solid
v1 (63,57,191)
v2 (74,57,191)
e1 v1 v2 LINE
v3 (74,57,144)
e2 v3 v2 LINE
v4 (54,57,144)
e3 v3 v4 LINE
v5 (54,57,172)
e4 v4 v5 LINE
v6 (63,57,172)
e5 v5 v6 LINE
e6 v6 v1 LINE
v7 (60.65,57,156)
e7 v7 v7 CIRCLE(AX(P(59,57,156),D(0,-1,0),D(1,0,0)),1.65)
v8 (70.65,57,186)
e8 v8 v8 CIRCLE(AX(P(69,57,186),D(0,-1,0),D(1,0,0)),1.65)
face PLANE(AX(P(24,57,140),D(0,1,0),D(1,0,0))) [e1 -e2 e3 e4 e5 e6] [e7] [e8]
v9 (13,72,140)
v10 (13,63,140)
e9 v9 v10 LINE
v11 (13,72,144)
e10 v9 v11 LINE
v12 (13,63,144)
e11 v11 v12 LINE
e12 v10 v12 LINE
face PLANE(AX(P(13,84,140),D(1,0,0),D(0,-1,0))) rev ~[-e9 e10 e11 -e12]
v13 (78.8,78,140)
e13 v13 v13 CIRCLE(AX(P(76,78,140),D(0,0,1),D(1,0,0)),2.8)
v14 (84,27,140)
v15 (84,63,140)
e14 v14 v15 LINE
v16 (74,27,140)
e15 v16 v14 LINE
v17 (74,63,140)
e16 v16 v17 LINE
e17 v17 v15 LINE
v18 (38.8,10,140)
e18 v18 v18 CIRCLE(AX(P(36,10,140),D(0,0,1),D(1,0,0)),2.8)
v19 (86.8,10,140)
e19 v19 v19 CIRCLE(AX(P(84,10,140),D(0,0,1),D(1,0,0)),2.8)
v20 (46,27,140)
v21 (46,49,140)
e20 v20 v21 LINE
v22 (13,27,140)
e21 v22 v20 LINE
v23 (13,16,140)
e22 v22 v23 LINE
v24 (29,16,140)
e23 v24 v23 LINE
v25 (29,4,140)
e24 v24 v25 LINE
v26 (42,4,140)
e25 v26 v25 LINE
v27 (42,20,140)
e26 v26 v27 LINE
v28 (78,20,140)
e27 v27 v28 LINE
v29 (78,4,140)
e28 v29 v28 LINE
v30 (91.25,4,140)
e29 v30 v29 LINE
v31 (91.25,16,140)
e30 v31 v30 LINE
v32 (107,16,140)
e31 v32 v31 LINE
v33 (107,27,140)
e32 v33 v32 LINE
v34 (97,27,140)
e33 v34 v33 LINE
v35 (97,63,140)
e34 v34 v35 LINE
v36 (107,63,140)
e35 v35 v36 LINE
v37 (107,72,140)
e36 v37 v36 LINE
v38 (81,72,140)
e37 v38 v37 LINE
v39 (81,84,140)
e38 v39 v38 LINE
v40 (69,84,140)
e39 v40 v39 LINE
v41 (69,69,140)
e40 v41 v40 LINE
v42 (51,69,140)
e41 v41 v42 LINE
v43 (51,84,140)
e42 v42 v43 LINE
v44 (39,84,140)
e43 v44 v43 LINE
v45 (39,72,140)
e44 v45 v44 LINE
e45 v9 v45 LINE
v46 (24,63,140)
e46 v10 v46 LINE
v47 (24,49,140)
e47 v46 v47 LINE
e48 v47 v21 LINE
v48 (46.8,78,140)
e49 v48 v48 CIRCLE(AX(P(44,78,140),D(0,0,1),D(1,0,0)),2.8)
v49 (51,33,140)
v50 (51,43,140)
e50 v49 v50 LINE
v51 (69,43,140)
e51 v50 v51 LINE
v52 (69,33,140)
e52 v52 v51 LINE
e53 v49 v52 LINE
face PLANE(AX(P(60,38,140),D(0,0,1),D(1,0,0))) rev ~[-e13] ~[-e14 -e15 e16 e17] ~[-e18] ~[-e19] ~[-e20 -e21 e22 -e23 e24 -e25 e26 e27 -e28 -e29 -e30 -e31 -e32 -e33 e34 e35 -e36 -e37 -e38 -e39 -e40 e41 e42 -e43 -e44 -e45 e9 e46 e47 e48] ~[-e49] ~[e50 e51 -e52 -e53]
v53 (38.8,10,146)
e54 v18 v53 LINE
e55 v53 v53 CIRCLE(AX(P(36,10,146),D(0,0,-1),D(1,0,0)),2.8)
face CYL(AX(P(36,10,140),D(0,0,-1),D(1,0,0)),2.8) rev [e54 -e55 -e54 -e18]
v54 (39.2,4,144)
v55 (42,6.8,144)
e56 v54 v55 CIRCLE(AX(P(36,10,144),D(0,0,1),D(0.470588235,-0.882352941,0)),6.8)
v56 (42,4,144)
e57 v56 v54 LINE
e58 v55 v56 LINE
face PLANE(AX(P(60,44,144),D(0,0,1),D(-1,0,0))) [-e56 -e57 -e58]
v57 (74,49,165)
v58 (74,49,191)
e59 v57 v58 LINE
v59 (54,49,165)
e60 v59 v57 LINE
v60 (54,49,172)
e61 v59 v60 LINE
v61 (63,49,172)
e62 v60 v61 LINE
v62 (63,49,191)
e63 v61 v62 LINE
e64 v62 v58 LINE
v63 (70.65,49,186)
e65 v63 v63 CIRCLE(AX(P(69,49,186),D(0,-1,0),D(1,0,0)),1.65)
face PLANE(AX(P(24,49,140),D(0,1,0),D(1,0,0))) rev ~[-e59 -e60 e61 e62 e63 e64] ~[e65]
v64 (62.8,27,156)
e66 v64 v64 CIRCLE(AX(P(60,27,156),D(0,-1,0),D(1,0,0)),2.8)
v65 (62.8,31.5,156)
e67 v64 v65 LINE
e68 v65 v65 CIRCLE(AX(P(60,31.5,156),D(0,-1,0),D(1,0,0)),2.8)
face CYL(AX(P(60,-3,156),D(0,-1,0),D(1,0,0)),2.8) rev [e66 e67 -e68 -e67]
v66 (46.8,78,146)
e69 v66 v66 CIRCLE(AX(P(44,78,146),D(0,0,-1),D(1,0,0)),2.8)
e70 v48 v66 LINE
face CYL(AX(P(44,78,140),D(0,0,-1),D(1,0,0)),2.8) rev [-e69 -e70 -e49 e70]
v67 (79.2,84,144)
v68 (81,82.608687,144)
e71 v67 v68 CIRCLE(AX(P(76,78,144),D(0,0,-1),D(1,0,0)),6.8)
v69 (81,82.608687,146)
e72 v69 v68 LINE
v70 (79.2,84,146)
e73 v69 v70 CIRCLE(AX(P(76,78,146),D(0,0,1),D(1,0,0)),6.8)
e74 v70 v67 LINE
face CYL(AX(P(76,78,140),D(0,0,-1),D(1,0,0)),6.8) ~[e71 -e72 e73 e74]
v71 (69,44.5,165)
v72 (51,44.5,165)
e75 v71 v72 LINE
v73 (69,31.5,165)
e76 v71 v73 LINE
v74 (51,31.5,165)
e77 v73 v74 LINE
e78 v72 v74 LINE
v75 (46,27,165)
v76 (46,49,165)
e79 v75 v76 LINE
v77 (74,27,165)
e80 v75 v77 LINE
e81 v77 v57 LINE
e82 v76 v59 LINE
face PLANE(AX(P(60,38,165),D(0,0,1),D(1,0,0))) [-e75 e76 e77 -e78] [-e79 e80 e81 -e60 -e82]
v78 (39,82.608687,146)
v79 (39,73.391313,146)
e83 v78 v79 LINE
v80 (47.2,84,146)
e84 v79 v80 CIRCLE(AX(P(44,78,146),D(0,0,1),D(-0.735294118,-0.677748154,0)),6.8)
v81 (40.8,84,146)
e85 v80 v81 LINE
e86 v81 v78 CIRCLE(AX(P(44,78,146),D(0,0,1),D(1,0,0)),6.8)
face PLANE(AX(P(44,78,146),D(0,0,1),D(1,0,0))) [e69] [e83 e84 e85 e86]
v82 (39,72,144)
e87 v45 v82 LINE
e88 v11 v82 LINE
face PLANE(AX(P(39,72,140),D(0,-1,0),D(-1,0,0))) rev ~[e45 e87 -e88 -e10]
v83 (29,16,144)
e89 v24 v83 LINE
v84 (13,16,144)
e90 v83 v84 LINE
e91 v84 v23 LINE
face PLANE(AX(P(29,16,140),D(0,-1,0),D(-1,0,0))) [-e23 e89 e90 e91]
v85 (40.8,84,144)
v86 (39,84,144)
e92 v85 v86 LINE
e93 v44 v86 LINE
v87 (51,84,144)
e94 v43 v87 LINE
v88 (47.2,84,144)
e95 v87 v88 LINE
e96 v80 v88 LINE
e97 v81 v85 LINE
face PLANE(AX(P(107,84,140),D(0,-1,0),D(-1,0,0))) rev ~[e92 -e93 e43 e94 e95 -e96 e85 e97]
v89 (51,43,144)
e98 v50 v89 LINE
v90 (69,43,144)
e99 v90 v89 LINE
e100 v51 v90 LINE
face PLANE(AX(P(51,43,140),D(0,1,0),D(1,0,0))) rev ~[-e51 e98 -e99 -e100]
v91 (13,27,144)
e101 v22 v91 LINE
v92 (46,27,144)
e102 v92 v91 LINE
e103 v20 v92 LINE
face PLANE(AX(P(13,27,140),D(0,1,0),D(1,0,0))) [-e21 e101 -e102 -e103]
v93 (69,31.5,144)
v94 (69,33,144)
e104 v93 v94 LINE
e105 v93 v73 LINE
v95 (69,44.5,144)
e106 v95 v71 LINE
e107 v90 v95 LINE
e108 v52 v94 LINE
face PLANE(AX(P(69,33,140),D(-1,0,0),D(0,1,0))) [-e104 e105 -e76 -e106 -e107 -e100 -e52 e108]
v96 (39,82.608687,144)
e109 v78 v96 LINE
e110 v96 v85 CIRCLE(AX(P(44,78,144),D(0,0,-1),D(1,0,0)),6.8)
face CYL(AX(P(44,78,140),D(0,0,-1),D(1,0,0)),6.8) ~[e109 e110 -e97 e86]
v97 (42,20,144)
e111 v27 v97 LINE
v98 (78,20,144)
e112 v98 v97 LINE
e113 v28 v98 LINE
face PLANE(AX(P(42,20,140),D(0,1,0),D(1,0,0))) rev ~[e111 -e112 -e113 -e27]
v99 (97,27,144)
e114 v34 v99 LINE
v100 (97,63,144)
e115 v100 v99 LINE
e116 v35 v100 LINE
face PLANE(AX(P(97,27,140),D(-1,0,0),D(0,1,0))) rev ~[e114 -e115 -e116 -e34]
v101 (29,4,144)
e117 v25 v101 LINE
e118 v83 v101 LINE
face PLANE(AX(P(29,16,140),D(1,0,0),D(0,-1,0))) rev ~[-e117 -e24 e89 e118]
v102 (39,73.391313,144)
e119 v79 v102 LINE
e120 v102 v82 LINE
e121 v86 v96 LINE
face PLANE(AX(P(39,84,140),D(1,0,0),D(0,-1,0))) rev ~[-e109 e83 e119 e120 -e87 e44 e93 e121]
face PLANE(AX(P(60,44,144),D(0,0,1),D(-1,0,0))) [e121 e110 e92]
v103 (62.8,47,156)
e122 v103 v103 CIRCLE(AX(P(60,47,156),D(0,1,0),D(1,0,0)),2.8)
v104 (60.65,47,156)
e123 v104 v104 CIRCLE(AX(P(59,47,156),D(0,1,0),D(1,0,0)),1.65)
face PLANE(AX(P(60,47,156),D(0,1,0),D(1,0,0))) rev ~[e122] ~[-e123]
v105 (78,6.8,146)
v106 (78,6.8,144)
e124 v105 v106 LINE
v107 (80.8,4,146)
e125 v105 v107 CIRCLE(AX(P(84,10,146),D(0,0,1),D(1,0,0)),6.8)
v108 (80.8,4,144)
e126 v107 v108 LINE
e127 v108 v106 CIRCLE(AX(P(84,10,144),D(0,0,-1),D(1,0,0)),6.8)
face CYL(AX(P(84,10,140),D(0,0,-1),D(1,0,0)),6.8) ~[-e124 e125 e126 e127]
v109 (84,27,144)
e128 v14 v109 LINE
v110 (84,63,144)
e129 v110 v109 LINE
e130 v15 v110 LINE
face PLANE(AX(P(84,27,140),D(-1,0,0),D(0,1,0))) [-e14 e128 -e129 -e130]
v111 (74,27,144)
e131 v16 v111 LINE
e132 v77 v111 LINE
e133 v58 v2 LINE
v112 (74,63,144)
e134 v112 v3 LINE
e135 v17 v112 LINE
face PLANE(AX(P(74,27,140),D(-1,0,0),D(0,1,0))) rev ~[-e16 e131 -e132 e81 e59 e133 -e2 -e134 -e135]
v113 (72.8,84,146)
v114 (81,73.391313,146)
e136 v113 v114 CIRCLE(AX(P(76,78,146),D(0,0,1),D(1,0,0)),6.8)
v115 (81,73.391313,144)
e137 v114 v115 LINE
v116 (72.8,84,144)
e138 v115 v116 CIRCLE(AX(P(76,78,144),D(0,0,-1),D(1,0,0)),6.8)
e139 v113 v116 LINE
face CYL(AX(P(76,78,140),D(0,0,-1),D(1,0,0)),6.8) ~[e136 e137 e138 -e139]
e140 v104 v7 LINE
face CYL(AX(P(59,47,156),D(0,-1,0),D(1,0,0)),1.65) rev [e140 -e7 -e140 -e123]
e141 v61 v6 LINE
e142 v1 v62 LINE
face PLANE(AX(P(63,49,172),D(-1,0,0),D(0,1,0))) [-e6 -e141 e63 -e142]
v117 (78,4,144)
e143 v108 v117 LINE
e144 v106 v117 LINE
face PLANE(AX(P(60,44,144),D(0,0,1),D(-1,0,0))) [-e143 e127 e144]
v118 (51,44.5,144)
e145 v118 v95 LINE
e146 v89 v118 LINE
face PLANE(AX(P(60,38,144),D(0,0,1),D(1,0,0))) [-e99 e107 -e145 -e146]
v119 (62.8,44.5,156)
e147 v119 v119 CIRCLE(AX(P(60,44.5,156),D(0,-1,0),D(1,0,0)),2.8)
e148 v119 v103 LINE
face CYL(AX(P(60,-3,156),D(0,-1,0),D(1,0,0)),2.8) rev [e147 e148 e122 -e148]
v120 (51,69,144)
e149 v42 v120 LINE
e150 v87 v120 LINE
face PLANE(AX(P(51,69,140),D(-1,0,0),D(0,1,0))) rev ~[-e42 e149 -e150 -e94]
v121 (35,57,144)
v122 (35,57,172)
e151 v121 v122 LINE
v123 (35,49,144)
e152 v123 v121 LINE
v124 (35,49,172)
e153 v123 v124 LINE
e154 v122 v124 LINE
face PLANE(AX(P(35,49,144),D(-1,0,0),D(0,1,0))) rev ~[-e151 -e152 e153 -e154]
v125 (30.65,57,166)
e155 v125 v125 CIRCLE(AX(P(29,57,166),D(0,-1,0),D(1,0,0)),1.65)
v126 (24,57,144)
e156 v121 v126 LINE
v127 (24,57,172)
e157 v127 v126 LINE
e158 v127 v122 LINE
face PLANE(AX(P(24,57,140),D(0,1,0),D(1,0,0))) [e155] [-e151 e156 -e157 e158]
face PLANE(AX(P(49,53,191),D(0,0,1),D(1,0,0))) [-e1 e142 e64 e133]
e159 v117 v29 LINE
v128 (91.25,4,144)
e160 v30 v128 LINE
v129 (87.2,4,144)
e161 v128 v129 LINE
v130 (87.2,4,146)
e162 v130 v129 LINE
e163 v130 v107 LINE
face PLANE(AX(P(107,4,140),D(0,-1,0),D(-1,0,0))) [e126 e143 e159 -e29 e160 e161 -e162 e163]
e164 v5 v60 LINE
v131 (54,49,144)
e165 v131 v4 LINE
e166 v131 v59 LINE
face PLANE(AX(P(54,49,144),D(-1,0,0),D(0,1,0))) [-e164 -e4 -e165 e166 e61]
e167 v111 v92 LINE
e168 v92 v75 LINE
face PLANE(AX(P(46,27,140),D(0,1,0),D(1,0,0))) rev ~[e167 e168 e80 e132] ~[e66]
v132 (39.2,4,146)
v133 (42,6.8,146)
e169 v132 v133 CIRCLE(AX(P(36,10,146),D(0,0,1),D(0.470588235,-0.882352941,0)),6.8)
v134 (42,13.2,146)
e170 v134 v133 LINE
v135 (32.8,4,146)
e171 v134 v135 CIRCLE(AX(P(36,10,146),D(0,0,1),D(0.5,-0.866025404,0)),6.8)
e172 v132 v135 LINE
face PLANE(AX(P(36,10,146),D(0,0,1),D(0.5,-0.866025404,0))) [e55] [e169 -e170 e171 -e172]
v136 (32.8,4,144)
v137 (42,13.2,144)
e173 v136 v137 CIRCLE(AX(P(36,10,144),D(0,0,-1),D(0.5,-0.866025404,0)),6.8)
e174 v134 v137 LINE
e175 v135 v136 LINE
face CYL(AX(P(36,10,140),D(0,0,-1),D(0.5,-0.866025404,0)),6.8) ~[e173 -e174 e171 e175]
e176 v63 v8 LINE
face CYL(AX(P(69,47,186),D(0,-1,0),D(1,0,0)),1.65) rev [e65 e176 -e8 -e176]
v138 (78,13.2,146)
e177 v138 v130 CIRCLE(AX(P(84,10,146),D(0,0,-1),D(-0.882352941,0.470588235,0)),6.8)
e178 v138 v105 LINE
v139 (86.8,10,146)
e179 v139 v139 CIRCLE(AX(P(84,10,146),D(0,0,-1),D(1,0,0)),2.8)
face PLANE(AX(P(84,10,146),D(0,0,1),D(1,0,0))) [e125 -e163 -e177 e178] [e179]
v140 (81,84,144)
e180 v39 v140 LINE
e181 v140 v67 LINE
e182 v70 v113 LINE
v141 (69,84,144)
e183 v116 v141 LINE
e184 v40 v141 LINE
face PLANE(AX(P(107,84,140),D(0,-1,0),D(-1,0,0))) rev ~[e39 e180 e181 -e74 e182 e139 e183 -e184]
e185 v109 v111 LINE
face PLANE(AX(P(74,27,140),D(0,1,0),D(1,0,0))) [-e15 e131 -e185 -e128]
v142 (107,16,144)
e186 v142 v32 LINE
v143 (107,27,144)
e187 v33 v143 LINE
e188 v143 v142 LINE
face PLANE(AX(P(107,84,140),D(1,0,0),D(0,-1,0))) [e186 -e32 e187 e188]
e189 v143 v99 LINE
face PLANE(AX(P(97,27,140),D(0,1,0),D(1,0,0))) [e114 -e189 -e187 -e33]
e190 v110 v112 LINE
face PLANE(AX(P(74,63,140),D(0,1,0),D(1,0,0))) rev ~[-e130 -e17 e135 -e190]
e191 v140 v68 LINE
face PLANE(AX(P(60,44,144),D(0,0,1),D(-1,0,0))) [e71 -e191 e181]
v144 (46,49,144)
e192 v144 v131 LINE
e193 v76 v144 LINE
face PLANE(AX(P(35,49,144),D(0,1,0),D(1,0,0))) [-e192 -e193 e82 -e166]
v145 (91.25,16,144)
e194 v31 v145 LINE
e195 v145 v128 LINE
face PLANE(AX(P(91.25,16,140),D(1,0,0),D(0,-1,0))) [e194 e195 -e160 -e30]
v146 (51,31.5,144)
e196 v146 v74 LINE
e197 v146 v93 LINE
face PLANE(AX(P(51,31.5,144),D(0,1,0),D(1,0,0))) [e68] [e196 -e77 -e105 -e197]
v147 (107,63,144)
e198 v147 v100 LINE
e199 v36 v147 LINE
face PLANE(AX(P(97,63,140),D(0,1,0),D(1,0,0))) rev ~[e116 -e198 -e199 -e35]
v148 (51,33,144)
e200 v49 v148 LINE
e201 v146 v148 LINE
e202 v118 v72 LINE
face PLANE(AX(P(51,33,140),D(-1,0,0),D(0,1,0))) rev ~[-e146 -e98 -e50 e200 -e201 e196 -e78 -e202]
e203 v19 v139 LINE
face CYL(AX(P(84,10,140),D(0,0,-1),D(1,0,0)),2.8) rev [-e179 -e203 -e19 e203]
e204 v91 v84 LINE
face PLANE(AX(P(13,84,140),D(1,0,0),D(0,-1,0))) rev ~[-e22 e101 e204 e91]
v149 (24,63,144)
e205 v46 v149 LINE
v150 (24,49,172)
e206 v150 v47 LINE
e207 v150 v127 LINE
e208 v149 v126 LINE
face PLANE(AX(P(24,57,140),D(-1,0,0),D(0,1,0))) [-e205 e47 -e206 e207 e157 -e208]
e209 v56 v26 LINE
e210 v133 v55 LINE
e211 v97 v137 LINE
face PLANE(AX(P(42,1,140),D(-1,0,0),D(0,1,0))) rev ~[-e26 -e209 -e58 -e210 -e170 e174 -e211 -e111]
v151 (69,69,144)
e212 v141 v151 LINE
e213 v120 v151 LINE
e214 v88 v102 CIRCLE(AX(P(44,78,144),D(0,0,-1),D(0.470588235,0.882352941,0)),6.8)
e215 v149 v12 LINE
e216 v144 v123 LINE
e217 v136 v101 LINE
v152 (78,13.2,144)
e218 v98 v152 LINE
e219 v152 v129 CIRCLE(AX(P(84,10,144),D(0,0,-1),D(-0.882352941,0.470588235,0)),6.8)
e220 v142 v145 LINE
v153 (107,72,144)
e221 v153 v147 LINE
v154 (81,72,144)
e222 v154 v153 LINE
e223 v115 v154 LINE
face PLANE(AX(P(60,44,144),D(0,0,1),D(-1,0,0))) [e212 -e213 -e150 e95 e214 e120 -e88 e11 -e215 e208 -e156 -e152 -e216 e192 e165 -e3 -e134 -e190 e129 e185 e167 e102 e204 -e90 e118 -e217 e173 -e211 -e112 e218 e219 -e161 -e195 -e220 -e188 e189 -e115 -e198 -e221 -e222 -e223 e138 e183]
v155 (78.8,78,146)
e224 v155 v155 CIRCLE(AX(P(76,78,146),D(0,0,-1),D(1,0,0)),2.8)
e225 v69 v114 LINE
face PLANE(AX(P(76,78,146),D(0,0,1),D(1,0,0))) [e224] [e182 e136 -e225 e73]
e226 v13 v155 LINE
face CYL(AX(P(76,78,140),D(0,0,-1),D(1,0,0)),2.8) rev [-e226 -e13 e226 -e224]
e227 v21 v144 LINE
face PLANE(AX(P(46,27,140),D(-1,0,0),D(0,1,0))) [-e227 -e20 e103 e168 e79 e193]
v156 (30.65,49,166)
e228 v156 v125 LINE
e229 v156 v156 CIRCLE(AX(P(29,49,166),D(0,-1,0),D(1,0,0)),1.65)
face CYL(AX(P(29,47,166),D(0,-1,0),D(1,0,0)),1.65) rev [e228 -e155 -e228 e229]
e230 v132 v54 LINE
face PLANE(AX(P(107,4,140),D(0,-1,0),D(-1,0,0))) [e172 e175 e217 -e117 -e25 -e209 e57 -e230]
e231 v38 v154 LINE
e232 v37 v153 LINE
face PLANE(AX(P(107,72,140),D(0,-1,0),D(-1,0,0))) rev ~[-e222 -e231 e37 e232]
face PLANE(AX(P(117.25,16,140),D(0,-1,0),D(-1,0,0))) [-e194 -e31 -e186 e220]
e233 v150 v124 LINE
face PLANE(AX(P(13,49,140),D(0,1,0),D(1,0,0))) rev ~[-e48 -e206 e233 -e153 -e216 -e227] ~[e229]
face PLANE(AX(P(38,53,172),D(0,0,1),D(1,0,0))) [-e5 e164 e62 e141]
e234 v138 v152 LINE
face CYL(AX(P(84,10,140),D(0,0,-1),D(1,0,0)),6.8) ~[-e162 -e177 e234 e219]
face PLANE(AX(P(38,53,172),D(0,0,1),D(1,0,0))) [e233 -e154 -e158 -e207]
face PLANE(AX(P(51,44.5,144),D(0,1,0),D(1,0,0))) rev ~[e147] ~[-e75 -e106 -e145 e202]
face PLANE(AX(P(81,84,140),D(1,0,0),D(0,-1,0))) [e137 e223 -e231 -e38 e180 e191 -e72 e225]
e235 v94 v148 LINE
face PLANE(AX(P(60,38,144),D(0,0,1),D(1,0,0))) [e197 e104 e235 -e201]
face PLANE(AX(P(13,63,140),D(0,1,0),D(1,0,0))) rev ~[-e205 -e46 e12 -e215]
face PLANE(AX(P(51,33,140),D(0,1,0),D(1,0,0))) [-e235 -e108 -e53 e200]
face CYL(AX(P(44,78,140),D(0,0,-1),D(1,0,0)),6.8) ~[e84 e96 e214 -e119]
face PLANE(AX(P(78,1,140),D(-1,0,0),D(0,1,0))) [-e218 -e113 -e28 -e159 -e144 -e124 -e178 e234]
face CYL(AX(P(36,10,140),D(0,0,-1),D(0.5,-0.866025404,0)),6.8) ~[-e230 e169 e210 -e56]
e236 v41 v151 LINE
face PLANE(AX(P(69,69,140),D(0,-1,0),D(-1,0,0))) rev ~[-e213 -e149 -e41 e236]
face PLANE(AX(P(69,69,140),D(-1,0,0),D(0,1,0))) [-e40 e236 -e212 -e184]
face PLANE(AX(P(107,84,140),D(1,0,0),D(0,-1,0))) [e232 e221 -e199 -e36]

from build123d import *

# Parameters (mm, degrees)
BOX096_W                    = 10
BOX096_H                    = 36
BOX096_DEPTH                = 10
BOX094_W                    = 94
BOX094_H                    = 8
BOX094_DEPTH                = 10
BOX095_W                    = 94
BOX095_H                    = 8
BOX095_DEPTH                = 10
BOX092_W                    = 94
BOX092_H                    = 8
BOX092_DEPTH                = 10
BOX093_W                    = 94
BOX093_H                    = 8
BOX093_DEPTH                = 10
CYLINDER112_R               = 2.8
CYLINDER112_DEPTH           = 10
CYLINDER113_R               = 2.8
CYLINDER113_DEPTH           = 10
CYLINDER114_R               = 2.8
CYLINDER114_DEPTH           = 10
CYLINDER111_R               = 2.8
CYLINDER111_DEPTH           = 10
BOX089_W                    = 11
BOX089_H                    = 6
BOX089_DEPTH                = 10
BOX088_W                    = 19
BOX088_H                    = 8
BOX088_DEPTH                = 51
CYLINDER109_R               = 1.65
CYLINDER109_DEPTH           = 50
CYLINDER110_R               = 1.65
CYLINDER110_DEPTH           = 50
CYLINDER108_R               = 1.65
CYLINDER108_DEPTH           = 50
BOX085_W                    = 15
BOX085_H                    = 18
BOX085_DEPTH                = 10
BOX080_W                    = 33
BOX080_H                    = 22
BOX080_DEPTH                = 10
BOX083_W                    = 18
BOX083_H                    = 13
BOX083_DEPTH                = 25
BOX082_W                    = 36
BOX082_H                    = 19
BOX082_DEPTH                = 10
BOX081_W                    = 10
BOX081_H                    = 36
BOX081_DEPTH                = 10
BOX073_W                    = 18
BOX073_H                    = 10
BOX073_DEPTH                = 25
CYLINDER_R                  = 2.8
CYLINDER_DEPTH              = 50
BOX087_W                    = 50
BOX087_H                    = 8
BOX087_DEPTH                = 51
BOX091_W                    = 11
BOX091_H                    = 8
BOX091_DEPTH                = 10
BOX084_W                    = 50
BOX084_H                    = 8
BOX084_DEPTH                = 51
BOX086_W                    = 28
BOX086_H                    = 22
BOX086_DEPTH                = 25
CYLINDER107_R               = 1
CYLINDER107_DEPTH           = 10
CYLINDER103_R               = 2.25
CYLINDER103_DEPTH           = 10
CYLINDER104_R               = 2.25
CYLINDER104_DEPTH           = 10
CYLINDER106_R               = 2
CYLINDER106_DEPTH           = 10
CYLINDER105_R               = 2.25
CYLINDER105_DEPTH           = 10
BOX063_W                    = 26
BOX063_H                    = 12
BOX063_DEPTH                = 4
BOX061_W                    = 26
BOX061_H                    = 12
BOX061_DEPTH                = 4
BOX062_W                    = 26
BOX062_H                    = 12
BOX062_DEPTH                = 4
BOX064_W                    = 26
BOX064_H                    = 12
BOX064_DEPTH                = 4
BOX060_W                    = 94
BOX060_H                    = 80
BOX060_DEPTH                = 4
CUT020_PLACEMENT_ANGLE      = 180
CYLINDER116_R               = 6.8
CYLINDER116_DEPTH           = 6
CYLINDER117_R               = 6.8
CYLINDER117_DEPTH           = 6
CYLINDER118_R               = 6.8
CYLINDER118_DEPTH           = 6
CYLINDER115_R               = 6.8
CYLINDER115_DEPTH           = 6
CYLINDER115_PLACEMENT_ANGLE = 60


with BuildPart() as cube053:
    # Box096 → Box096 (new body)
    with BuildSketch(Plane(origin=(97, 27, 140), x_dir=(1, 0, 0), z_dir=(0, 0, 1))):
        with Locations((5, 18)):
            Rectangle(BOX096_W, BOX096_H)
    extrude(amount=BOX096_DEPTH)


with BuildPart() as cube051:
    # Box094 → Box094 (new body)
    with BuildSketch(Plane(origin=(89, 72, 140), x_dir=(0, 1, 0), z_dir=(0, 0, 1))):
        with Locations((47, 4)):
            Rectangle(BOX094_W, BOX094_H)
    extrude(amount=BOX094_DEPTH)


with BuildPart() as cube052:
    # Box095 → Box095 (new body)
    with BuildSketch(Plane(origin=(39, 72, 140), x_dir=(0, 1, 0), z_dir=(0, 0, 1))):
        with Locations((47, 4)):
            Rectangle(BOX095_W, BOX095_H)
    extrude(amount=BOX095_DEPTH)


with BuildPart() as cube049:
    # Box092 → Box092 (new body)
    with BuildSketch(Plane(origin=(13, -4, 140), x_dir=(1, 0, 0), z_dir=(0, 0, 1))):
        with Locations((47, 4)):
            Rectangle(BOX092_W, BOX092_H)
    extrude(amount=BOX092_DEPTH)


with BuildPart() as fusion130:
    # Box093 → Box093 (new body)
    with BuildSketch(Plane(origin=(13, 84, 140), x_dir=(1, 0, 0), z_dir=(0, 0, 1))):
        with Locations((47, 4)):
            Rectangle(BOX093_W, BOX093_H)
    extrude(amount=BOX093_DEPTH)

    # Fusion130: union Cube051, Cube052, Cube049
    add(cube051.part)
    add(cube052.part)
    add(cube049.part)


with BuildPart() as m4heatsetcut001:
    # Cylinder112 → Cylinder112 (new body)
    with BuildSketch(Plane(origin=(84, 10, 140), x_dir=(1, 0, 0), z_dir=(0, 0, 1))):
        Circle(CYLINDER112_R)
    extrude(amount=CYLINDER112_DEPTH)


with BuildPart() as m4heatsetcut002:
    # Cylinder113 → Cylinder113 (new body)
    with BuildSketch(Plane(origin=(76, 78, 140), x_dir=(1, 0, 0), z_dir=(0, 0, 1))):
        Circle(CYLINDER113_R)
    extrude(amount=CYLINDER113_DEPTH)


with BuildPart() as m4heatsetcut003:
    # Cylinder114 → Cylinder114 (new body)
    with BuildSketch(Plane(origin=(44, 78, 140), x_dir=(1, 0, 0), z_dir=(0, 0, 1))):
        Circle(CYLINDER114_R)
    extrude(amount=CYLINDER114_DEPTH)


with BuildPart() as heatsetcuts:
    # Cylinder111 → Cylinder111 (new body)
    with BuildSketch(Plane(origin=(36, 10, 140), x_dir=(1, 0, 0), z_dir=(0, 0, 1))):
        Circle(CYLINDER111_R)
    extrude(amount=CYLINDER111_DEPTH)

    # Fusion126: union m4HeatSetCut001, m4HeatSetCut002, m4HeatSetCut003
    add(m4heatsetcut001.part)
    add(m4heatsetcut002.part)
    add(m4heatsetcut003.part)


with BuildPart() as cube046:
    # Box089 → Box089 (new body)
    with BuildSketch(Plane(origin=(13, 57, 140), x_dir=(1, 0, 0), z_dir=(0, 0, 1))):
        with Locations((5.5, 3)):
            Rectangle(BOX089_W, BOX089_H)
    extrude(amount=BOX089_DEPTH)


with BuildPart() as cube045:
    # Box088 → Box088 (new body)
    with BuildSketch(Plane(origin=(35, 49, 144), x_dir=(1, 0, 0), z_dir=(0, 0, 1))):
        with Locations((9.5, 4)):
            Rectangle(BOX088_W, BOX088_H)
    extrude(amount=BOX088_DEPTH)


with BuildPart() as cylinder111:
    # Cylinder109 → Cylinder109 (new body)
    with BuildSketch(Plane(origin=(40, 17, 166), x_dir=(1, 0, 0), z_dir=(0, 1, 0))):
        Circle(CYLINDER109_R)
    extrude(amount=CYLINDER109_DEPTH)


with BuildPart() as cylinder112:
    # Cylinder110 → Cylinder110 (new body)
    with BuildSketch(Plane(origin=(70, 17, 156), x_dir=(1, 0, 0), z_dir=(0, 1, 0))):
        Circle(CYLINDER110_R)
    extrude(amount=CYLINDER110_DEPTH)


with BuildPart() as m2cuts:
    # Cylinder108 → Cylinder108 (new body)
    with BuildSketch(Plane(origin=(80, 17, 186), x_dir=(1, 0, 0), z_dir=(0, 1, 0))):
        Circle(CYLINDER108_R)
    extrude(amount=CYLINDER108_DEPTH)

    # Fusion: union Cylinder111, Cylinder112
    add(cylinder111.part)
    add(cylinder112.part)


with BuildPart() as m2cuts_1:
    # Fusion placement: moved
    add(m2cuts.part.moved(Location((-11, 30, 0))))


with BuildPart() as cube043:
    # Box085 → Box085 (new body)
    with BuildSketch(Plane(origin=(69, 69, 140), x_dir=(0, 1, 0), z_dir=(0, 0, 1))):
        with Locations((7.5, 9)):
            Rectangle(BOX085_W, BOX085_H)
    extrude(amount=BOX085_DEPTH)


with BuildPart() as cube038:
    # Box080 → Box080 (new body)
    with BuildSketch(Plane(origin=(13, 27, 140), x_dir=(1, 0, 0), z_dir=(0, 0, 1))):
        with Locations((16.5, 11)):
            Rectangle(BOX080_W, BOX080_H)
    extrude(amount=BOX080_DEPTH)


with BuildPart() as cube041:
    # Box083 → Box083 (new body)
    with BuildSketch(Plane(origin=(51, 31.5, 144), x_dir=(1, 0, 0), z_dir=(0, 0, 1))):
        with Locations((9, 6.5)):
            Rectangle(BOX083_W, BOX083_H)
    extrude(amount=BOX083_DEPTH)


with BuildPart() as cube040:
    # Box082 → Box082 (new body)
    with BuildSketch(Plane(origin=(42, 1, 140), x_dir=(1, 0, 0), z_dir=(0, 0, 1))):
        with Locations((18, 9.5)):
            Rectangle(BOX082_W, BOX082_H)
    extrude(amount=BOX082_DEPTH)


with BuildPart() as cube039:
    # Box081 → Box081 (new body)
    with BuildSketch(Plane(origin=(74, 27, 140), x_dir=(1, 0, 0), z_dir=(0, 0, 1))):
        with Locations((5, 18)):
            Rectangle(BOX081_W, BOX081_H)
    extrude(amount=BOX081_DEPTH)


with BuildPart() as basespinecut:
    # Box073 → Box073 (new body)
    with BuildSketch(Plane(origin=(51, 33, 140), x_dir=(1, 0, 0), z_dir=(0, 0, 1))):
        with Locations((9, 5)):
            Rectangle(BOX073_W, BOX073_H)
    extrude(amount=BOX073_DEPTH)


with BuildPart() as cylinder:
    # Cylinder → Cylinder (new body)
    with BuildSketch(Plane(origin=(60, -3, 156), x_dir=(1, 0, 0), z_dir=(0, 1, 0))):
        Circle(CYLINDER_R)
    extrude(amount=CYLINDER_DEPTH)


with BuildPart() as cuts:
    # Box087 → Box087 (new body)
    with BuildSketch(Plane(origin=(13, 49, 172), x_dir=(1, 0, 0), z_dir=(0, 0, 1))):
        with Locations((25, 4)):
            Rectangle(BOX087_W, BOX087_H)
    extrude(amount=BOX087_DEPTH)

    # Fusion125: union Cube045, m2Cuts, Cube043, Cube038, Cube041, Cube040, Cube039, baseSpineCut, Cylinder
    add(cube045.part)
    add(m2cuts_1.part)
    add(cube043.part)
    add(cube038.part)
    add(cube041.part)
    add(cube040.part)
    add(cube039.part)
    add(basespinecut.part)
    add(cylinder.part)


with BuildPart() as cuts003:
    # Box091 → Box091 (new body)
    with BuildSketch(Plane(origin=(13, 49, 140), x_dir=(1, 0, 0), z_dir=(0, 0, 1))):
        with Locations((5.5, 4)):
            Rectangle(BOX091_W, BOX091_H)
    extrude(amount=BOX091_DEPTH)

    # Fusion127: union heatSetCuts, Cube046, cuts
    add(heatsetcuts.part)
    add(cube046.part)
    add(cuts.part)

    # Fusion131: union Fusion130
    add(fusion130.part)

    # Fusion132: union Cube053
    add(cube053.part)


with BuildPart() as cube042:
    # Box084 → Box084 (new body)
    with BuildSketch(Plane(origin=(24, 49, 140), x_dir=(1, 0, 0), z_dir=(0, 0, 1))):
        with Locations((25, 4)):
            Rectangle(BOX084_W, BOX084_H)
    extrude(amount=BOX084_DEPTH)


with BuildPart() as basespinein:
    # Box086 → Box086 (new body)
    with BuildSketch(Plane(origin=(46, 27, 140), x_dir=(1, 0, 0), z_dir=(0, 0, 1))):
        with Locations((14, 11)):
            Rectangle(BOX086_W, BOX086_H)
    extrude(amount=BOX086_DEPTH)


with BuildPart() as cylinder109:
    # Cylinder107 → Cylinder107 (new body)
    with BuildSketch(Plane.XY):
        Circle(CYLINDER107_R)
    extrude(amount=CYLINDER107_DEPTH)


with BuildPart() as cylinder107:
    # Cylinder103 → Cylinder103 (new body)
    with BuildSketch(Plane(origin=(63, 3, 0), x_dir=(1, 0, 0), z_dir=(0, 0, 1))):
        Circle(CYLINDER103_R)
    extrude(amount=CYLINDER103_DEPTH)


with BuildPart() as cylinder103:
    # Cylinder104 → Cylinder104 (new body)
    with BuildSketch(Plane(origin=(71, 71, 0), x_dir=(1, 0, 0), z_dir=(0, 0, 1))):
        Circle(CYLINDER104_R)
    extrude(amount=CYLINDER104_DEPTH)


with BuildPart() as cylinder104:
    # Cylinder106 → Cylinder106 (new body)
    with BuildSketch(Plane(origin=(23, 71, 0), x_dir=(1, 0, 0), z_dir=(0, 0, 1))):
        Circle(CYLINDER106_R)
    extrude(amount=CYLINDER106_DEPTH)


with BuildPart() as screwins001:
    # Cylinder105 → Cylinder105 (new body)
    with BuildSketch(Plane(origin=(31, 3, 0), x_dir=(1, 0, 0), z_dir=(0, 0, 1))):
        Circle(CYLINDER105_R)
    extrude(amount=CYLINDER105_DEPTH)

    # Fusion123: union Cylinder109, Cylinder107, Cylinder103, Cylinder104
    add(cylinder109.part)
    add(cylinder107.part)
    add(cylinder103.part)
    add(cylinder104.part)


with BuildPart() as screwins001_1:
    # Fusion123 placement: moved
    add(screwins001.part.moved(Location((0, 3, 0))))


with BuildPart() as base004:
    # Box063 → Box063 (new body)
    with BuildSketch(Plane(origin=(78, 68, 0), x_dir=(1, 0, 0), z_dir=(0, 0, 1))):
        with Locations((13, 6)):
            Rectangle(BOX063_W, BOX063_H)
    extrude(amount=BOX063_DEPTH)


with BuildPart() as base002:
    # Box061 → Box061 (new body)
    with BuildSketch(Plane.XY):
        with Locations((13, 6)):
            Rectangle(BOX061_W, BOX061_H)
    extrude(amount=BOX061_DEPTH)


with BuildPart() as base003:
    # Box062 → Box062 (new body)
    with BuildSketch(Plane(origin=(68, 0, 0), x_dir=(1, 0, 0), z_dir=(0, 0, 1))):
        with Locations((13, 6)):
            Rectangle(BOX062_W, BOX062_H)
    extrude(amount=BOX062_DEPTH)


with BuildPart() as fusion122:
    # Box064 → Box064 (new body)
    with BuildSketch(Plane(origin=(-10.25, 68, 0), x_dir=(1, 0, 0), z_dir=(0, 0, 1))):
        with Locations((13, 6)):
            Rectangle(BOX064_W, BOX064_H)
    extrude(amount=BOX064_DEPTH)

    # Fusion122: union base004, base002, base003
    add(base004.part)
    add(base002.part)
    add(base003.part)


with BuildPart() as base:
    # Box060 → Box060 (new body)
    with BuildSketch(Plane.XY):
        with Locations((47, 40)):
            Rectangle(BOX060_W, BOX060_H)
    extrude(amount=BOX060_DEPTH)

    # Cut019: cut Fusion122
    add(fusion122.part, mode=Mode.SUBTRACT)

    # Cut020: cut screwIns001
    add(screwins001_1.part, mode=Mode.SUBTRACT)


with BuildPart() as base_1:
    # Cut020 placement: moved
    add(base.part.moved(Location((107, 84, 140))).rotate(Axis((107, 84, 140), (0, 0, 1)), CUT020_PLACEMENT_ANGLE))

    # Fusion124: union Cube042, baseSpineIn
    add(cube042.part)
    add(basespinein.part)


with BuildPart() as m4heatsetcut005:
    # Cylinder116 → Cylinder116 (new body)
    with BuildSketch(Plane(origin=(84, 10, 140), x_dir=(1, 0, 0), z_dir=(0, 0, 1))):
        Circle(CYLINDER116_R)
    extrude(amount=CYLINDER116_DEPTH)


with BuildPart() as m4heatsetcut006:
    # Cylinder117 → Cylinder117 (new body)
    with BuildSketch(Plane(origin=(76, 78, 140), x_dir=(1, 0, 0), z_dir=(0, 0, 1))):
        Circle(CYLINDER117_R)
    extrude(amount=CYLINDER117_DEPTH)


with BuildPart() as m4heatsetcut007:
    # Cylinder118 → Cylinder118 (new body)
    with BuildSketch(Plane(origin=(44, 78, 140), x_dir=(1, 0, 0), z_dir=(0, 0, 1))):
        Circle(CYLINDER118_R)
    extrude(amount=CYLINDER118_DEPTH)


with BuildPart() as base007:
    # Cylinder115 → Cylinder115 (new body)
    with BuildSketch(Plane.XY):
        Circle(CYLINDER115_R)
    extrude(amount=CYLINDER115_DEPTH)


with BuildPart() as base007_1:
    # Cylinder115 placement: moved
    add(base007.part.moved(Location((36, 10, 140))).rotate(Axis((36, 10, 140), (0, 0, -1)), CYLINDER115_PLACEMENT_ANGLE))

    # Fusion128: union m4HeatSetCut005, m4HeatSetCut006, m4HeatSetCut007
    add(m4heatsetcut005.part)
    add(m4heatsetcut006.part)
    add(m4heatsetcut007.part)

    # Fusion129: union base
    add(base_1.part)

    # Cut: cut cuts003
    add(cuts003.part, mode=Mode.SUBTRACT)


solid = base007_1.part
